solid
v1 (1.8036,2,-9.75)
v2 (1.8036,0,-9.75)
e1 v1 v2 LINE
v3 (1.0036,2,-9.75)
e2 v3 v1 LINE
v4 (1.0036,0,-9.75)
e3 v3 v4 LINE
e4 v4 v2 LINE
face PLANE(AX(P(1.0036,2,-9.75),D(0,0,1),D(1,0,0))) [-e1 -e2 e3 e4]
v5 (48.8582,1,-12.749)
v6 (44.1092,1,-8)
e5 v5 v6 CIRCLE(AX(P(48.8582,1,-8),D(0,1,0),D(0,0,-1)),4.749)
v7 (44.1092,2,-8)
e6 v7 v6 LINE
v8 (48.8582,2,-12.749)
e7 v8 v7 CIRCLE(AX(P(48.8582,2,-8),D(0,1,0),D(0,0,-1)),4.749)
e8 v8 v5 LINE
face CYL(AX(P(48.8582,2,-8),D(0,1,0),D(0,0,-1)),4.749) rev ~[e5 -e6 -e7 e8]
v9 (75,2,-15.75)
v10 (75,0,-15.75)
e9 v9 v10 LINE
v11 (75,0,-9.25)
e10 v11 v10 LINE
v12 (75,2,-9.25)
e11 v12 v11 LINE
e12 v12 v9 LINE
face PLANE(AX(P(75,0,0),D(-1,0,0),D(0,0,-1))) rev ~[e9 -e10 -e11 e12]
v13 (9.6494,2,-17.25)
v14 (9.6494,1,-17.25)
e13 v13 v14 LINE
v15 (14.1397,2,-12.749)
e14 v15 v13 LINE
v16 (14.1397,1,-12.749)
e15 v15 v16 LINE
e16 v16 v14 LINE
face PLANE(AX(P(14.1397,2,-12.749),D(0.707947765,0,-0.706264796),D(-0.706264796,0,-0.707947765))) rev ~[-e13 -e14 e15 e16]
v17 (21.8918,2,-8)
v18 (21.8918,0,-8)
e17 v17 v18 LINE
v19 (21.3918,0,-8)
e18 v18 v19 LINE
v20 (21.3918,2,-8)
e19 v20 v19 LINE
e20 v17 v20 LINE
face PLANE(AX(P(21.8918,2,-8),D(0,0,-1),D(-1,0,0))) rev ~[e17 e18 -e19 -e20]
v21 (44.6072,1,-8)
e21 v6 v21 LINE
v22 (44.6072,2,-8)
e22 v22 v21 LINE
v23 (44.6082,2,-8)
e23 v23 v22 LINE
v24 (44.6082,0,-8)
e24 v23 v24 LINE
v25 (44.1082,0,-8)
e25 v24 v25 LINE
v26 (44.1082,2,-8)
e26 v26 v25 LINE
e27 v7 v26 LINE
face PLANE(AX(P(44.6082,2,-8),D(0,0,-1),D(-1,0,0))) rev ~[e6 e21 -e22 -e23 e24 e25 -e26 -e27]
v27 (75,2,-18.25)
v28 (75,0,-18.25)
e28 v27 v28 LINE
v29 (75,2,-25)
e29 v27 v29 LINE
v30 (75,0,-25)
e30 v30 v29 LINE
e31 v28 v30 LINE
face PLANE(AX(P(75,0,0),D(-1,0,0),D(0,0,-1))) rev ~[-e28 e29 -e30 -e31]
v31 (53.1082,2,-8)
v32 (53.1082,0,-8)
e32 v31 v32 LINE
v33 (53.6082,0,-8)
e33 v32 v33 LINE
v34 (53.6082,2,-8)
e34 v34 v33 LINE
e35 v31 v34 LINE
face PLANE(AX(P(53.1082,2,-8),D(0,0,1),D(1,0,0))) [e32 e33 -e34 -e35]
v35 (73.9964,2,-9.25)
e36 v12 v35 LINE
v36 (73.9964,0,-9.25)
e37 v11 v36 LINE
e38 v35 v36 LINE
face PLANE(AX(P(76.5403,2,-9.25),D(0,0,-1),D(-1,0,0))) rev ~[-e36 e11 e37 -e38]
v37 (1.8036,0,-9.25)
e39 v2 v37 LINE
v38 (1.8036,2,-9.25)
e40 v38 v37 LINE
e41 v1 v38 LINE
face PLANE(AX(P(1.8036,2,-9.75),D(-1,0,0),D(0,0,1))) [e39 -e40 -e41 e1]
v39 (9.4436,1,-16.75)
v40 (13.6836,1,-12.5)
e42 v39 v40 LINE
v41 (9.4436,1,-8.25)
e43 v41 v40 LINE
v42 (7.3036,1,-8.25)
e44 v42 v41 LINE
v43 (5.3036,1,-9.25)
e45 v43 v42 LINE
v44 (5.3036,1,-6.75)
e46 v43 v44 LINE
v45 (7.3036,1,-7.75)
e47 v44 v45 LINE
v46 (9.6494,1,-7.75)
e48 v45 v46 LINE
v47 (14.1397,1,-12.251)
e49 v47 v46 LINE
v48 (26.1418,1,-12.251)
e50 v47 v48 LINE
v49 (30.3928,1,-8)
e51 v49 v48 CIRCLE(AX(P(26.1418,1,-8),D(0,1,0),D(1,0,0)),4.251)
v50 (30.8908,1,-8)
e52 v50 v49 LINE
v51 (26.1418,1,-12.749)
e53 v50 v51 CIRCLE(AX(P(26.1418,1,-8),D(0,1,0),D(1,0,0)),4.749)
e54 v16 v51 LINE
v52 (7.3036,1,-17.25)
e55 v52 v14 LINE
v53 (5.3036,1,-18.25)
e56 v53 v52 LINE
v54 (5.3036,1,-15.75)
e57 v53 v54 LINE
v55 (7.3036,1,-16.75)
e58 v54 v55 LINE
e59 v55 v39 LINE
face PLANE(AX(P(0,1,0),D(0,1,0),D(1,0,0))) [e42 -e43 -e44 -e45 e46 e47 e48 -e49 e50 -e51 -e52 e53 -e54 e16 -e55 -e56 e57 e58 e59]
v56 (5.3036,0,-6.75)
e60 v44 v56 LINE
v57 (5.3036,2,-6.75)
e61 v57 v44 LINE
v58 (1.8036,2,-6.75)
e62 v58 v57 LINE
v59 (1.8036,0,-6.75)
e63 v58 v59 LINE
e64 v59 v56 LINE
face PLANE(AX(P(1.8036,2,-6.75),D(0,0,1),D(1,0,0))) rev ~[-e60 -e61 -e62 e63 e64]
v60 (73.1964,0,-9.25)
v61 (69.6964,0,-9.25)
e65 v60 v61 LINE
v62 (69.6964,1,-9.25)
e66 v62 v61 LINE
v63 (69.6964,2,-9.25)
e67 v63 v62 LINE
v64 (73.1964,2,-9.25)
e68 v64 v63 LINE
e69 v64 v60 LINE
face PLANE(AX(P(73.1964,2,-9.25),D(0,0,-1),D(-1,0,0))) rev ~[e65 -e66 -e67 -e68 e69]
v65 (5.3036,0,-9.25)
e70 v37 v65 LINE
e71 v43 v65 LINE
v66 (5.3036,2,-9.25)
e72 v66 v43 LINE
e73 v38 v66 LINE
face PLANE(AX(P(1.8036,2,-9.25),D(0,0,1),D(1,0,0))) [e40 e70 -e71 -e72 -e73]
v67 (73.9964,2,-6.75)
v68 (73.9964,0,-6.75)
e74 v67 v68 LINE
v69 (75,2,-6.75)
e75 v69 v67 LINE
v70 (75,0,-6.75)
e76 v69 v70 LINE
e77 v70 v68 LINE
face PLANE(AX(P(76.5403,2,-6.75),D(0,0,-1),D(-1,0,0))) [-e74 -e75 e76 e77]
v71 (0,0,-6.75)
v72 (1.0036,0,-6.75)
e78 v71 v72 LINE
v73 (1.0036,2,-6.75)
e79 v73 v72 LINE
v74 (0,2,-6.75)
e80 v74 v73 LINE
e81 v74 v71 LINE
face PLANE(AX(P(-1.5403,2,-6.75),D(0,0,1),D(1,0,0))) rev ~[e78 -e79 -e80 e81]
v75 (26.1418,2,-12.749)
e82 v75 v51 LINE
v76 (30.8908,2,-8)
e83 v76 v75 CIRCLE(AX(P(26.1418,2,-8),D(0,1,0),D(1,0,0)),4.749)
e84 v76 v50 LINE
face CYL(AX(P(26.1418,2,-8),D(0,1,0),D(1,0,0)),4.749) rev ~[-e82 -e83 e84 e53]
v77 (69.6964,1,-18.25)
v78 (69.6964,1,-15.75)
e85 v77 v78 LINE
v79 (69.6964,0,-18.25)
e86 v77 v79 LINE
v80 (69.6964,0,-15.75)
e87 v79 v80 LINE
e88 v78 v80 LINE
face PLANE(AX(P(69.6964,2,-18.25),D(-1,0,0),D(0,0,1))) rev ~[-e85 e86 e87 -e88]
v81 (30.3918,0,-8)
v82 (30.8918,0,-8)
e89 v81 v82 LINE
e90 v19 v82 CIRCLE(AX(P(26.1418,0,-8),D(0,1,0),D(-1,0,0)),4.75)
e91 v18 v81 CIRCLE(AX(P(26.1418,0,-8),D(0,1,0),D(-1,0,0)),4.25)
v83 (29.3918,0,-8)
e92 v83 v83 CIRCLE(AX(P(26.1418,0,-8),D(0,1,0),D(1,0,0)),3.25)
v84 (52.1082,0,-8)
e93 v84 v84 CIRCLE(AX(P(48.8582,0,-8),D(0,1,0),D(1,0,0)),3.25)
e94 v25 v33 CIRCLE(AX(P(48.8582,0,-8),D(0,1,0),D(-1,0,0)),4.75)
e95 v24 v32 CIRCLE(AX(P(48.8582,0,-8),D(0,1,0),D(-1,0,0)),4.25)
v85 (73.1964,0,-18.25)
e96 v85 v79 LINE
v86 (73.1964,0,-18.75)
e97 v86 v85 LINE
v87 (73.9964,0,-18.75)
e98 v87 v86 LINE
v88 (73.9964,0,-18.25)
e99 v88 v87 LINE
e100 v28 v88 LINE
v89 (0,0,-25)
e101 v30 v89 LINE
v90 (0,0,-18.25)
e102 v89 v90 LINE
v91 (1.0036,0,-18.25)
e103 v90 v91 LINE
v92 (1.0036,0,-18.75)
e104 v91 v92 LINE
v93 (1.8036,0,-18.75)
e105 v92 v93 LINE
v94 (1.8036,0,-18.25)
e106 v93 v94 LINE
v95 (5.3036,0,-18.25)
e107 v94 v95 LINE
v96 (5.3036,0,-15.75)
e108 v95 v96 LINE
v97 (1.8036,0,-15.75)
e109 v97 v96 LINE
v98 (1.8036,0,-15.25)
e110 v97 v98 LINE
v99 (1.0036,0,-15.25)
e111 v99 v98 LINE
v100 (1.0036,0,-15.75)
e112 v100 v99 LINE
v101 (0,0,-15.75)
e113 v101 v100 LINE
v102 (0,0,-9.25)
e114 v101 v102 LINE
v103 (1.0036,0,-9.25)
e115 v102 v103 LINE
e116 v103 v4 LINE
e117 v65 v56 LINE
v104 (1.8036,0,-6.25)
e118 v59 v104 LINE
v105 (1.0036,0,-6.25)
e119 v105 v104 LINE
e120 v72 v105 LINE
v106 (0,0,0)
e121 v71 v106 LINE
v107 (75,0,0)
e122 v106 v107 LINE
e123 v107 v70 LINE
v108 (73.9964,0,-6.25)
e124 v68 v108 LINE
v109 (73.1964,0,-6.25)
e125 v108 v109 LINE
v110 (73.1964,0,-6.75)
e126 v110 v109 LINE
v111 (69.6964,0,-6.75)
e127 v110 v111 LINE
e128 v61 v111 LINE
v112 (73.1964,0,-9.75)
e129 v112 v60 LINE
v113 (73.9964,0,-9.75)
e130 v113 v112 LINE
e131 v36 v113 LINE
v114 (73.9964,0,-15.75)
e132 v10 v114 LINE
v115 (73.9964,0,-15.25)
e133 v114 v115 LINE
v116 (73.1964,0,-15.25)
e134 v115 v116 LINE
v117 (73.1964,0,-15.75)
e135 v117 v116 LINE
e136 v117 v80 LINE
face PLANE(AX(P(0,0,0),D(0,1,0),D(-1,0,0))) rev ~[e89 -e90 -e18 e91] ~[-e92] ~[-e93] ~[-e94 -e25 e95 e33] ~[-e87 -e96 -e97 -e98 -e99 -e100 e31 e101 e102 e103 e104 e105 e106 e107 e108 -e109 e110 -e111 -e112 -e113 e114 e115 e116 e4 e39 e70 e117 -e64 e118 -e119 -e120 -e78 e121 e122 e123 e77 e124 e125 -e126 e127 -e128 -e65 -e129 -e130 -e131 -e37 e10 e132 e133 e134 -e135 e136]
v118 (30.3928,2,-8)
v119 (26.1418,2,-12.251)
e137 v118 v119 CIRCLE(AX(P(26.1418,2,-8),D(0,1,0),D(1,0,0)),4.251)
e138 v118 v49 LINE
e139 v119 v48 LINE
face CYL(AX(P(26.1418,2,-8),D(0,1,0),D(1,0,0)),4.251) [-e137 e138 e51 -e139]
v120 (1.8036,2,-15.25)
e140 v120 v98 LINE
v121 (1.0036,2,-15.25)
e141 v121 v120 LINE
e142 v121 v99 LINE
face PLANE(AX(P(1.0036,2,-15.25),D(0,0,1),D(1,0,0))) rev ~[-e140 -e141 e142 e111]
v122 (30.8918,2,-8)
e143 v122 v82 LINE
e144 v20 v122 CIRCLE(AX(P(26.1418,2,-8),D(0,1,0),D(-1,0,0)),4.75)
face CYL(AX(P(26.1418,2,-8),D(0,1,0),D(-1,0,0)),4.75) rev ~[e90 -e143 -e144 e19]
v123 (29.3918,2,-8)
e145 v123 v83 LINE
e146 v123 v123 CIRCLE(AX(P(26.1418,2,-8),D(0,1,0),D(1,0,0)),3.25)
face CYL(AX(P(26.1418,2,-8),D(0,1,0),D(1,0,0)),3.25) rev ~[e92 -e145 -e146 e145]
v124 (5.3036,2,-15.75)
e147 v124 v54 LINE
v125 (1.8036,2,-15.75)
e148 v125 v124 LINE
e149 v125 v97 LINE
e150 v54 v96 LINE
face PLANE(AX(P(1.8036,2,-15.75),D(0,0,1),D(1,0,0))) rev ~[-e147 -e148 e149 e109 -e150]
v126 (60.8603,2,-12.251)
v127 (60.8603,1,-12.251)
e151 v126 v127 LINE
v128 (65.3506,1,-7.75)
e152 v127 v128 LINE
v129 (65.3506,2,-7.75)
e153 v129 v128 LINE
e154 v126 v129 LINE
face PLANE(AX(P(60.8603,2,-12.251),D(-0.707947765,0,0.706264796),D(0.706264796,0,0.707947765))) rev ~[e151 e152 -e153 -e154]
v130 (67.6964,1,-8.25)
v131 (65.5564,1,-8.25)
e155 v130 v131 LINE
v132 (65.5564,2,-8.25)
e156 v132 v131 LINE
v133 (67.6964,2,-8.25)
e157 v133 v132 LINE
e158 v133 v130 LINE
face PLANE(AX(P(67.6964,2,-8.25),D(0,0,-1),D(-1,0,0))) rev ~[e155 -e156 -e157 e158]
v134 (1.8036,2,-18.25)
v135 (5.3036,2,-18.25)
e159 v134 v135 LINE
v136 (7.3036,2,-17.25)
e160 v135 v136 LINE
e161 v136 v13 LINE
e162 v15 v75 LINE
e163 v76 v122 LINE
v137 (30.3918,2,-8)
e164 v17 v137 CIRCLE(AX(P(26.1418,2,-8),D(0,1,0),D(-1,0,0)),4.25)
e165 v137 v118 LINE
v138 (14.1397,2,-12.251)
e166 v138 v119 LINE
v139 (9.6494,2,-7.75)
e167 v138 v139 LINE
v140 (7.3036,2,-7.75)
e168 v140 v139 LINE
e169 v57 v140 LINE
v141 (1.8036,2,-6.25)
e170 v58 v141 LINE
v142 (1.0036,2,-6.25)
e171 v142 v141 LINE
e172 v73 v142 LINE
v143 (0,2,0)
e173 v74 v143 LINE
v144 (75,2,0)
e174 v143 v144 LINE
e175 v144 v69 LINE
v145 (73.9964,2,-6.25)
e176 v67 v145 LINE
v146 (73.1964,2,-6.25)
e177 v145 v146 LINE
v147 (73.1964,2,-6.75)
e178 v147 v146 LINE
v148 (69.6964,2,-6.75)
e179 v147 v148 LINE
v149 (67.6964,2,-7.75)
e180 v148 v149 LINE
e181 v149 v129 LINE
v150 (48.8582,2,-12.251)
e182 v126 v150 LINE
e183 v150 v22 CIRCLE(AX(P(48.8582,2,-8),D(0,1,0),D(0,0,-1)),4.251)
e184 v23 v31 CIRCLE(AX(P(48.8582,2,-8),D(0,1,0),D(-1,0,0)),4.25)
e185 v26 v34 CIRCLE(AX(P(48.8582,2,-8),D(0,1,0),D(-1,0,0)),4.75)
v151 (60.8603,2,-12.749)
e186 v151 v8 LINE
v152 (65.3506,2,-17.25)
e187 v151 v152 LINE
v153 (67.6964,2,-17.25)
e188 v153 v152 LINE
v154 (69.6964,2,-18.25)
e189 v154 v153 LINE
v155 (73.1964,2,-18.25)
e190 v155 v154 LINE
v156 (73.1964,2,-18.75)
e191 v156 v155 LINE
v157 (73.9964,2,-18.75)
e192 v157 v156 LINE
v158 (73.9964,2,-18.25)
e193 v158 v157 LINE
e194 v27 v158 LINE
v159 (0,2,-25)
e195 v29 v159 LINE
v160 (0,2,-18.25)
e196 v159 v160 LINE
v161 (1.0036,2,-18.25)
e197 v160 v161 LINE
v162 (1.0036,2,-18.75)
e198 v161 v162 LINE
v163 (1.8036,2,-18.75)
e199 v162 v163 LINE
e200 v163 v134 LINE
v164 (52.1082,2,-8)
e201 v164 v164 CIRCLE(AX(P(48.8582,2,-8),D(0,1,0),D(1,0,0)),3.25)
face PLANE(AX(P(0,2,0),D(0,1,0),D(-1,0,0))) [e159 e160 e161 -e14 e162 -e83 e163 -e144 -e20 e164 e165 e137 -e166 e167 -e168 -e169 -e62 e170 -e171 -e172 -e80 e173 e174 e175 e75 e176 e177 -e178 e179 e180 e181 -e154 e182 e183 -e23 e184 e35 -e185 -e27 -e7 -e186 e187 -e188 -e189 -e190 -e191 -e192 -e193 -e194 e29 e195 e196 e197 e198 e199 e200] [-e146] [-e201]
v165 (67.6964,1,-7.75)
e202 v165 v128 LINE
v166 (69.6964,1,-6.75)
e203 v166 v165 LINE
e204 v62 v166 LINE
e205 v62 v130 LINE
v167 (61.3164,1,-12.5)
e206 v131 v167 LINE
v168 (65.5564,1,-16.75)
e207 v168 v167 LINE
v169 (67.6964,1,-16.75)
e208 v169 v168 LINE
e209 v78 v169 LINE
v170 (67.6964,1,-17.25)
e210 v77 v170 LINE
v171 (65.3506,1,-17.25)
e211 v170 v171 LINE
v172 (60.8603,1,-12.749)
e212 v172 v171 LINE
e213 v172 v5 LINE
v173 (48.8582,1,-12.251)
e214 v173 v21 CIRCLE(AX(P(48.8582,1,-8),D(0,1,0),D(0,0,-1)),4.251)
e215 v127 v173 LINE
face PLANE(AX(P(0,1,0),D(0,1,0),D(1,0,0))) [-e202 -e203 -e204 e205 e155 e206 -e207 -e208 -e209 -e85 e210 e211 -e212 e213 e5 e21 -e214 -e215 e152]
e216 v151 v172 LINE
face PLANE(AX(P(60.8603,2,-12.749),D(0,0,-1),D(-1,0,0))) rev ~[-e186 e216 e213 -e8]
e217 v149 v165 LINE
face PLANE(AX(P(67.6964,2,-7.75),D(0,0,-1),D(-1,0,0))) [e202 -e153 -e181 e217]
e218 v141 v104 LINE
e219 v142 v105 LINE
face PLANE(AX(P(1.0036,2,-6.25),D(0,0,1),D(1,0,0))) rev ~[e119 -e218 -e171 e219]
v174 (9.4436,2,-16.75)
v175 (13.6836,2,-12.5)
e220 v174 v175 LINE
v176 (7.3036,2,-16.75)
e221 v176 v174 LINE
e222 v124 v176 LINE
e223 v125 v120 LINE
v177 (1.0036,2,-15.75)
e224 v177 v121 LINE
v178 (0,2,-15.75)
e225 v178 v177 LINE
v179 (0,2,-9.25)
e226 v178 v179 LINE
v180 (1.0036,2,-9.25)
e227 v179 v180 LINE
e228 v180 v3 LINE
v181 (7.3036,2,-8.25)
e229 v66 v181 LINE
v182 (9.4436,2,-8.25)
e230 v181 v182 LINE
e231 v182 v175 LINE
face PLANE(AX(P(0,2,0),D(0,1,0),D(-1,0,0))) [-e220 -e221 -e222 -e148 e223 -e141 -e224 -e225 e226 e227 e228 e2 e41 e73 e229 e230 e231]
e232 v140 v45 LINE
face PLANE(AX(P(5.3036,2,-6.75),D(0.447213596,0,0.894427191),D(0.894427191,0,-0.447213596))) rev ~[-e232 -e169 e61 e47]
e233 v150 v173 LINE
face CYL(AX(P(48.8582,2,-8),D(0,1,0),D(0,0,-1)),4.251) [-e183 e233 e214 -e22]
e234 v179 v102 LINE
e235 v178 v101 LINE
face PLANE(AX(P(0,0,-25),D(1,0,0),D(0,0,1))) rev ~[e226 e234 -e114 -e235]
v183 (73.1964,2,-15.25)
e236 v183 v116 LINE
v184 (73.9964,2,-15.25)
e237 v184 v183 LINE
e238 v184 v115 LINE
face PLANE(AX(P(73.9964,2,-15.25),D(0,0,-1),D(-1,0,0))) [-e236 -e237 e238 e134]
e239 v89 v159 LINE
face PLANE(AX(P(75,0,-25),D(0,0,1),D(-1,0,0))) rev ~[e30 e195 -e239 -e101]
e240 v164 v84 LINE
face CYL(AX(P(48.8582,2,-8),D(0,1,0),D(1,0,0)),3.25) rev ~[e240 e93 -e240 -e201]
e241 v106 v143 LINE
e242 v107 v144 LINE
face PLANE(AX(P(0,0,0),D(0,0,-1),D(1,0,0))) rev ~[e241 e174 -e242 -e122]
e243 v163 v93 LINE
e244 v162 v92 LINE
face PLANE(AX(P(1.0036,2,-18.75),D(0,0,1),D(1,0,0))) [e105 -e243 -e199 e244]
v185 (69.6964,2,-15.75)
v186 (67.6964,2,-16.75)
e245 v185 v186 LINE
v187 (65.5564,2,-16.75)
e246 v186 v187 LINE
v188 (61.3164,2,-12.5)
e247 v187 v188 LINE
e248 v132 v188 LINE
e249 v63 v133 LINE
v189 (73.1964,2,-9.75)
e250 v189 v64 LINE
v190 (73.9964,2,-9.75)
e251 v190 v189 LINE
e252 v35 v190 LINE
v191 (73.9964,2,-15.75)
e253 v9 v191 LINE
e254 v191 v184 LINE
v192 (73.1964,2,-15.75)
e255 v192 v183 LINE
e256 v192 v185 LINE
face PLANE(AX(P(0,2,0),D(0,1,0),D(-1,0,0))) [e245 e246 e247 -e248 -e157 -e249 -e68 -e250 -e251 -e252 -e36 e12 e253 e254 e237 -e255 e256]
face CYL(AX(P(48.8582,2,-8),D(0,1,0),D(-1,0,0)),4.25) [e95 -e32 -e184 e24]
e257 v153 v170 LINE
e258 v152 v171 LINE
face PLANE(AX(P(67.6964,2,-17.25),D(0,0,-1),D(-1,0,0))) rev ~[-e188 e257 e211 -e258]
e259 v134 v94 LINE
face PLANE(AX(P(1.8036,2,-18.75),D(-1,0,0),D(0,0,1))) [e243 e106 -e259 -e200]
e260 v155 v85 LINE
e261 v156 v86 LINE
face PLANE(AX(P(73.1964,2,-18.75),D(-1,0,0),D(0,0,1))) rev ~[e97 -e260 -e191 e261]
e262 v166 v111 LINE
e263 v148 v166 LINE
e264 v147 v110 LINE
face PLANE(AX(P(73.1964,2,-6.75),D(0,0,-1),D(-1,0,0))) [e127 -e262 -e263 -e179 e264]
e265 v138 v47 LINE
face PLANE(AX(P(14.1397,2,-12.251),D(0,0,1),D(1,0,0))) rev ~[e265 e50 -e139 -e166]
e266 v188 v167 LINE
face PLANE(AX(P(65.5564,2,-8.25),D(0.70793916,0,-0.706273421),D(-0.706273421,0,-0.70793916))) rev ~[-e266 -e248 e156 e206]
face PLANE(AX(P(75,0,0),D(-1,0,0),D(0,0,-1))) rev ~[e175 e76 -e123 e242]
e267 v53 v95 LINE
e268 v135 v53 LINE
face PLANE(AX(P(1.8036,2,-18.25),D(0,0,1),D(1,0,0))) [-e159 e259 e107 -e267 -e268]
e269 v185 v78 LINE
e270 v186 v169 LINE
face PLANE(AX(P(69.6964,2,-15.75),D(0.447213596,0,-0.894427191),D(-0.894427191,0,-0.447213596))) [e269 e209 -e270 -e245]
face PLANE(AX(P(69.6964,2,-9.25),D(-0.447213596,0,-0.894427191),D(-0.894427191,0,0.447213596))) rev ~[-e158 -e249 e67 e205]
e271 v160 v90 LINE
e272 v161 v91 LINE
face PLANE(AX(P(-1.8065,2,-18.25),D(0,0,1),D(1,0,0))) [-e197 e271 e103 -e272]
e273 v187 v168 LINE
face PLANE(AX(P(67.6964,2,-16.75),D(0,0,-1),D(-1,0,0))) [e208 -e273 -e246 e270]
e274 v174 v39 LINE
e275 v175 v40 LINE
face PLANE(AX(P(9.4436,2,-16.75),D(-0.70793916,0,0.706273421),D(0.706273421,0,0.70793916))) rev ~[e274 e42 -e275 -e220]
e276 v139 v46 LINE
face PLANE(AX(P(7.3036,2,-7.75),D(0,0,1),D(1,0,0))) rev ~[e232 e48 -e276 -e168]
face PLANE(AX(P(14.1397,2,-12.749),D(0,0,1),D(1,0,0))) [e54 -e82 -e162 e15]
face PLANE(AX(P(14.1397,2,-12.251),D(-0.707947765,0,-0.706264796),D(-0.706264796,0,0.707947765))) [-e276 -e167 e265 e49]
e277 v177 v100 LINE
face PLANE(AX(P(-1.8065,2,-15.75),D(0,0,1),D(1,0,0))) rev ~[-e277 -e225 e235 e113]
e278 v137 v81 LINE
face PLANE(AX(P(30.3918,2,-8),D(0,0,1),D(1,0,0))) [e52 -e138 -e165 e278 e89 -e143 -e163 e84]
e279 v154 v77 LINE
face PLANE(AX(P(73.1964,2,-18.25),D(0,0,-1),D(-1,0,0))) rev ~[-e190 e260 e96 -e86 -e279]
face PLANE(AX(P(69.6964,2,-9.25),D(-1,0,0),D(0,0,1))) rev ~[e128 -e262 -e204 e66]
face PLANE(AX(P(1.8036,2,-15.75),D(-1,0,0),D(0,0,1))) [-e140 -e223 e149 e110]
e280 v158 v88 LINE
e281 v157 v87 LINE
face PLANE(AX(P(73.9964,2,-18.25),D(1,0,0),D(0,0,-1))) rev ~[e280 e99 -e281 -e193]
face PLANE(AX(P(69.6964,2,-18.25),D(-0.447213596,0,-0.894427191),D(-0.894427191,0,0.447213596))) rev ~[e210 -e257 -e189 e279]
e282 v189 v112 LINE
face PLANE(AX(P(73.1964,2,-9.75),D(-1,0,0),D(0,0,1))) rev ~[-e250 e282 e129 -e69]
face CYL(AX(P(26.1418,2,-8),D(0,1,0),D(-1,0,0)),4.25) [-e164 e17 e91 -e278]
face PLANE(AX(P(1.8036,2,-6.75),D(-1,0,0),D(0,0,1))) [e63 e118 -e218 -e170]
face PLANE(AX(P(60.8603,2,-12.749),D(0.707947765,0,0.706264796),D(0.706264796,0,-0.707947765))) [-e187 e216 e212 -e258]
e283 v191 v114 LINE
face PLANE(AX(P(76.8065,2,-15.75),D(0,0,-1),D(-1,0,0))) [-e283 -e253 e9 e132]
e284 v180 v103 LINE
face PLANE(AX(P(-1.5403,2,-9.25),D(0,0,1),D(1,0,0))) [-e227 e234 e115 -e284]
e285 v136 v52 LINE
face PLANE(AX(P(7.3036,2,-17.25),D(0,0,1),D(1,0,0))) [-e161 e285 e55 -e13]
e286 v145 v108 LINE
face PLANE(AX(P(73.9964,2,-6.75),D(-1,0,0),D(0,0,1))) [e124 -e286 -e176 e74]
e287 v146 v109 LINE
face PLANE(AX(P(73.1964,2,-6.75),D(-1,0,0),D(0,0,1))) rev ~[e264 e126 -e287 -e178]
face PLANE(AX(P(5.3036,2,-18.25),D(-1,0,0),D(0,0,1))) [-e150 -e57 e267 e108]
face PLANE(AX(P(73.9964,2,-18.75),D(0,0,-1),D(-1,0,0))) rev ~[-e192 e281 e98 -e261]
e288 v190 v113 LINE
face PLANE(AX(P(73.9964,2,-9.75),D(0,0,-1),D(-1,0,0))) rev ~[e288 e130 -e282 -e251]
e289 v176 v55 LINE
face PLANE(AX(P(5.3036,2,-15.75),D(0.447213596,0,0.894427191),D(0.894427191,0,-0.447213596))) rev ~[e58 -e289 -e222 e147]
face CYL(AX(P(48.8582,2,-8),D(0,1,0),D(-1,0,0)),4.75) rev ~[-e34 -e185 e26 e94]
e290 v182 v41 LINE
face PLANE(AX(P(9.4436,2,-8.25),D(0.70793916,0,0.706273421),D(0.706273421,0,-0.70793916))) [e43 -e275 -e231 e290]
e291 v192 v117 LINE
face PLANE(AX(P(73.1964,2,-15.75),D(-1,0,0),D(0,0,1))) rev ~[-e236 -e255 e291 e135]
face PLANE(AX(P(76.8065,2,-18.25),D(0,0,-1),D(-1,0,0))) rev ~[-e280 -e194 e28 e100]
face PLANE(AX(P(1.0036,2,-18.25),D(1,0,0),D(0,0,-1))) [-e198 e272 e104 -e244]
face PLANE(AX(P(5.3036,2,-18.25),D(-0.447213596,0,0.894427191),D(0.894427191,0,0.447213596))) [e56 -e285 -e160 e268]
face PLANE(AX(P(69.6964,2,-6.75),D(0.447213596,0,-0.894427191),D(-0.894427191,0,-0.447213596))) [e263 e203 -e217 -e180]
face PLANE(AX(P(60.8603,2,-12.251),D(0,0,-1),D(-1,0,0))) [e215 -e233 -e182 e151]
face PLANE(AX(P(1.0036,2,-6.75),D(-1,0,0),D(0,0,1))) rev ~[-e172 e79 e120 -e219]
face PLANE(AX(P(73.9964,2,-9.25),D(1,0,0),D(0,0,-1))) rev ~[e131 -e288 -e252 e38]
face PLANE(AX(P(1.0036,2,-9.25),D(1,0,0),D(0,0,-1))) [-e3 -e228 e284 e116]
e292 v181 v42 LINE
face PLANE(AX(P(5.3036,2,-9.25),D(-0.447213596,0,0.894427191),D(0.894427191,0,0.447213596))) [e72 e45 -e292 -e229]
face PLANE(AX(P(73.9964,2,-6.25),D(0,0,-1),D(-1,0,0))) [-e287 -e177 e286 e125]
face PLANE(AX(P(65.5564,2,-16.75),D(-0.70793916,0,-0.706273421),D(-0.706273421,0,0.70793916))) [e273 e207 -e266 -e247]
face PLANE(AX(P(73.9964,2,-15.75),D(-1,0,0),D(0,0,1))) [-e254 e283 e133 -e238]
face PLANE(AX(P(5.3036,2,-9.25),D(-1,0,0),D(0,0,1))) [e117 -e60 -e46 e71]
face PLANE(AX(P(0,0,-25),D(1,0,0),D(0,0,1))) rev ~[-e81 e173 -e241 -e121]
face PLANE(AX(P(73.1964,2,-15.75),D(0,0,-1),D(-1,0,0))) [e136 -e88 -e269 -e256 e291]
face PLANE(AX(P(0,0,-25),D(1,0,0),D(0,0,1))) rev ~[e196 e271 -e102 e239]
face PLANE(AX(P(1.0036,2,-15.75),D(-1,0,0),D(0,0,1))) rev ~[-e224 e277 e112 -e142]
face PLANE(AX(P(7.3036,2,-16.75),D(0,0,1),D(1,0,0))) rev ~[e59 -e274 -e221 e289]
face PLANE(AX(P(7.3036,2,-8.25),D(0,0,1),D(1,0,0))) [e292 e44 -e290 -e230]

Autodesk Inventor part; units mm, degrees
ref_plane "YZ Plane" through (0, 0, 0) normal (1, 0, 0) x (0, 1, 0)
ref_plane "XZ Plane" through (0, 0, 0) normal (0, 1, 0) x (-1, 0, 0)
ref_plane "XY Plane" through (0, 0, 0) normal (0, 0, 1) x (1, 0, 0)
sketch "Sombreado_1" plane through (0, 0, 0) normal (0, 0, 1) x (1, 0, 0)
  point P0 (0, 0)
sketch "Sombreado_2" plane through (0, 0, 0) normal (0, 0, 1) x (1, 0, 0)
  point P0 (0, 0)
sketch "Sombreado_3" plane through (0, 0, 0) normal (0, 0, 1) x (1, 0, 0)
  point P0 (0, 0)
sketch "Boceto1" plane through (0, 0, 0) normal (0, 1, 0) x (-1, 0, 0)
  line L0 (30.3882, 1.25) -> (30.8882, 1.25)
  line L1 (0, -6.75) -> (75, -6.75)
  line L2 (75, -6.75) -> (75, 18.25)
  line L3 (75, 18.25) -> (0, 18.25)
  line L4 (0, 18.25) -> (0, -6.75)
  arc A0 (21.3882, 1.25) -> (30.8882, 1.25) centre (26.1382, 1.25) ccw
  arc A1 (21.8882, 1.25) -> (30.3882, 1.25) centre (26.1382, 1.25) ccw
  line L5 (21.3882, 1.25) -> (21.8882, 1.25)
  line L6 (1.8, 2.5) -> (5.3, 2.5)
  line L7 (1.8, 2.5) -> (1.8, 3)
  line L8 (1.8, 3) -> (1, 3)
  line L9 (1, 3) -> (1, 2.5)
  line L10 (1, 0) -> (0, 0)
  line L11 (1, 0) -> (1, -0.5)
  line L12 (1, -0.5) -> (1.8, -0.5)
  line L13 (1.8, -0.5) -> (1.8, 0)
  line L14 (5.3, 0) -> (1.8, 0)
  line L15 (0, 2.5) -> (1, 2.5)
  line L16 (1.8, 11.5) -> (5.3, 11.5)
  line L17 (5.3, 9) -> (1.8, 9)
  line L18 (1, 9) -> (0, 9)
  line L19 (0, 11.5) -> (1, 11.5)
  line L20 (1.8, 11.5) -> (1.8, 12)
  line L21 (1.8, 12) -> (1, 12)
  line L22 (1, 12) -> (1, 11.5)
  line L23 (1, 9) -> (1, 8.5)
  line L24 (1, 8.5) -> (1.8, 8.5)
  line L25 (1.8, 8.5) -> (1.8, 9)
  line L26 (44.6082, 1.25) -> (44.1082, 1.25)
  arc A2 (44.1082, 1.25) -> (53.6082, 1.25) centre (48.8582, 1.25) ccw
  arc A3 (44.6082, 1.25) -> (53.1082, 1.25) centre (48.8582, 1.25) ccw
  line L27 (53.6082, 1.25) -> (53.1082, 1.25)
  line L28 (73.1964, 2.5) -> (69.6964, 2.5)
  line L29 (69.6964, 0) -> (73.1964, 0)
  line L30 (73.9964, 0) -> (74.9964, 0)
  line L31 (74.9964, 2.5) -> (73.9964, 2.5)
  line L32 (73.1964, 2.5) -> (73.1964, 3)
  line L33 (73.1964, 3) -> (73.9964, 3)
  line L34 (73.9964, 3) -> (73.9964, 2.5)
  line L35 (73.9964, 0) -> (73.9964, -0.5)
  line L36 (73.9964, -0.5) -> (73.1964, -0.5)
  line L37 (73.1964, -0.5) -> (73.1964, 0)
  line L38 (73.1964, 11.5) -> (69.6964, 11.5)
  line L39 (69.6964, 9) -> (73.1964, 9)
  line L40 (73.9964, 9) -> (74.9964, 9)
  line L41 (74.9964, 11.5) -> (73.9964, 11.5)
  line L42 (73.1964, 11.5) -> (73.1964, 12)
  line L43 (73.1964, 12) -> (73.9964, 12)
  line L44 (73.9964, 12) -> (73.9964, 11.5)
  line L45 (73.9964, 9) -> (73.9964, 8.5)
  line L46 (73.9964, 8.5) -> (73.1964, 8.5)
  line L47 (73.1964, 8.5) -> (73.1964, 9)
  line L48 (75, 18.25) -> (75, 43.25)
  line L49 (75, 43.25) -> (0, 43.25)
  line L50 (0, 43.25) -> (0, 18.25)
  line L51 (5.3, 11.5) -> (5.3, 9)
  line L52 (5.3, 2.5) -> (5.3, 0)
  line L53 (69.6964, 11.5) -> (69.6964, 9)
  line L54 (69.6964, 2.5) -> (69.6964, 0)
  circle A4 centre (26.1382, 1.25) radius 3.25
  circle A5 centre (48.8582, 1.25) radius 3.25
  circle A6 centre (26.1382, 26.25) radius 3.25
  circle A7 centre (48.8582, 26.25) radius 3.25
  line L55 (75, 43.25) -> (75, 68.25)
  line L56 (75, 68.25) -> (0, 68.25)
  line L57 (0, 68.25) -> (0, 43.25)
  circle A8 centre (26.1382, 51.25) radius 3.25
  circle A9 centre (48.8582, 51.25) radius 3.25
  point P0 (0, 0)
sketch "Boceto3" plane through (0, 0, 0) normal (0, 1, 0) x (-1, 0, 0)
  line L0 (0, 0) -> (-75, 0)
  line L1 (-75, 0) -> (-75, -25)
  line L2 (-75, -25) -> (0, -25)
  line L3 (0, -25) -> (0, 0)
  line L4 (0, 0) -> (-75, 0)
  line L5 (-75, 0) -> (-75, -25)
  line L6 (-75, -25) -> (0, -25)
  line L7 (0, -25) -> (0, 0)
  dimension "d4" = 75
  dimension "d5" = 25
  dimension "d6" = 75
  dimension "d7" = 25
extrude "Extrusión1" add sketch "Boceto3" along normal blind 2
sketch "Boceto4" plane through (0, 2, 0) normal (0, 1, 0) x (1, 0, 0)
  line L0 (-1.8065, 18.25) -> (1.0036, 18.25)
  line L1 (-1.8065, 15.75) -> (1.0036, 15.75)
  line L2 (1.0036, 15.75) -> (1.0036, 15.25)
  line L3 (1.8036, 15.75) -> (1.8036, 15.25)
  line L4 (1.0036, 18.75) -> (1.8036, 18.75)
  line L5 (1.0036, 15.25) -> (1.8036, 15.25)
  line L6 (1.0036, 18.25) -> (1.0036, 18.75)
  line L7 (1.8036, 18.75) -> (1.8036, 18.25)
  line L8 (1.8036, 18.25) -> (5.3036, 18.25)
  line L9 (1.8036, 15.75) -> (5.3036, 15.75)
  line L10 (5.3036, 18.25) -> (5.3036, 15.75)
  line L11 (-1.5403, 9.25) -> (-1.5403, 6.75)
  line L12 (-1.5403, 9.25) -> (1.0036, 9.25)
  line L13 (-1.5403, 6.75) -> (1.0036, 6.75)
  line L14 (1.0036, 6.75) -> (1.0036, 6.25)
  line L15 (1.8036, 6.75) -> (1.8036, 6.25)
  line L16 (1.0036, 9.75) -> (1.8036, 9.75)
  line L17 (1.0036, 6.25) -> (1.8036, 6.25)
  line L18 (1.0036, 9.25) -> (1.0036, 9.75)
  line L19 (1.8036, 9.75) -> (1.8036, 9.25)
  line L20 (1.8036, 9.25) -> (5.3036, 9.25)
  line L21 (1.8036, 6.75) -> (5.3036, 6.75)
  line L22 (5.3036, 9.25) -> (5.3036, 6.75)
  circle A0 centre (26.1418, 8) radius 3.25
  arc A1 (21.3918, 8) -> (30.8918, 8) centre (26.1418, 8) ccw
  arc A2 (21.8918, 8) -> (30.3918, 8) centre (26.1418, 8) ccw
  line L23 (30.3918, 8) -> (30.8918, 8)
  line L24 (21.8918, 8) -> (21.3918, 8)
  line L25 (-1.8065, 18.25) -> (-1.8065, 15.75)
  line L26 (5.3036, 15.75) -> (7.3036, 16.75)
  line L27 (5.3036, 18.25) -> (7.3036, 17.25)
  line L28 (7.3036, 16.75) -> (9.4436, 16.75)
  line L29 (9.4436, 16.75) -> (13.6836, 12.5)
  line L30 (9.7963, 17.1027) -> (9.7972, 17.1036)
  line L31 (14.1397, 12.749) -> (9.6494, 17.25)
  line L32 (7.3036, 17.25) -> (9.6494, 17.25)
  line L33 (5.3036, 9.25) -> (7.3036, 8.25)
  line L34 (5.3036, 6.75) -> (7.3036, 7.75)
  line L35 (7.3036, 8.25) -> (9.4436, 8.25)
  line L36 (9.4436, 8.25) -> (13.6836, 12.5)
  line L37 (14.1397, 12.251) -> (9.6494, 7.75)
  line L38 (7.3036, 7.75) -> (9.6494, 7.75)
  line L39 (14.1397, 12.749) -> (26.1418, 12.749)
  line L40 (14.1397, 12.251) -> (26.1418, 12.251)
  arc A3 (30.3918, 8) -> (26.1418, 12.25) centre (26.1418, 8) ccw
  arc A4 (30.8918, 8) -> (26.1418, 12.75) centre (26.1418, 8) ccw
  line L41 (0, 0) -> (75, 0) projected
  line L42 (75, 25) -> (0, 25) projected
  line L43 (76.8065, 18.25) -> (73.9964, 18.25)
  line L44 (76.8065, 15.75) -> (73.9964, 15.75)
  line L45 (73.9964, 15.75) -> (73.9964, 15.25)
  line L46 (73.1964, 15.75) -> (73.1964, 15.25)
  line L47 (73.9964, 18.75) -> (73.1964, 18.75)
  line L48 (73.9964, 15.25) -> (73.1964, 15.25)
  line L49 (73.9964, 18.25) -> (73.9964, 18.75)
  line L50 (73.1964, 18.75) -> (73.1964, 18.25)
  line L51 (73.1964, 18.25) -> (69.6964, 18.25)
  line L52 (73.1964, 15.75) -> (69.6964, 15.75)
  line L53 (69.6964, 18.25) -> (69.6964, 15.75)
  line L54 (69.6964, 9.25) -> (69.6964, 6.75)
  line L55 (73.1964, 6.75) -> (73.1964, 6.25)
  line L56 (73.1964, 6.75) -> (69.6964, 6.75)
  line L57 (73.1964, 9.75) -> (73.1964, 9.25)
  line L58 (73.9964, 6.75) -> (73.9964, 6.25)
  line L59 (73.9964, 6.25) -> (73.1964, 6.25)
  line L60 (73.9964, 9.75) -> (73.1964, 9.75)
  line L61 (73.9964, 9.25) -> (73.9964, 9.75)
  line L62 (76.5403, 9.25) -> (76.5403, 6.75)
  line L63 (76.5403, 9.25) -> (73.9964, 9.25)
  line L64 (76.5403, 6.75) -> (73.9964, 6.75)
  line L65 (73.1964, 9.25) -> (69.6964, 9.25)
  circle A5 centre (48.8582, 8) radius 3.25
  arc A6 (44.1082, 8) -> (53.6082, 8) centre (48.8582, 8) ccw
  arc A7 (44.6082, 8) -> (53.1082, 8) centre (48.8582, 8) ccw
  line L66 (44.6082, 8) -> (44.1082, 8)
  line L67 (53.1082, 8) -> (53.6082, 8)
  line L68 (76.8065, 18.25) -> (76.8065, 15.75)
  line L69 (69.6964, 15.75) -> (67.6964, 16.75)
  line L70 (69.6964, 18.25) -> (67.6964, 17.25)
  line L71 (67.6964, 16.75) -> (65.5564, 16.75)
  line L72 (65.5564, 16.75) -> (61.3164, 12.5)
  line L73 (65.2037, 17.1027) -> (65.2028, 17.1036)
  line L74 (60.8603, 12.749) -> (65.3506, 17.25)
  line L75 (67.6964, 17.25) -> (65.3506, 17.25)
  line L76 (67.6964, 8.25) -> (65.5564, 8.25)
  line L77 (67.6964, 7.75) -> (65.3506, 7.75)
  line L78 (60.8603, 12.251) -> (65.3506, 7.75)
  line L79 (65.5564, 8.25) -> (61.3164, 12.5)
  line L80 (69.6964, 9.25) -> (67.6964, 8.25)
  line L81 (69.6964, 6.75) -> (67.6964, 7.75)
  line L82 (60.8603, 12.749) -> (48.8582, 12.749)
  line L83 (60.8603, 12.251) -> (48.8582, 12.251)
  arc A8 (48.8582, 12.25) -> (44.6082, 8) centre (48.8582, 8) ccw
  arc A9 (48.8582, 12.75) -> (44.1082, 8) centre (48.8582, 8) ccw
extrude "Extrusión2" cut sketch "Boceto4" against normal blind 2 contours L0 L6 L4 L7 L8 L10 L9 L3 L5 L2 L1 L25 | A1 L24 A2 L23 | L22 L21 L15 L17 L14 L13 L11 L12 L18 L16 L19 L20 | A0 | L68 L44 L45 L48 L46 L52 L53 L51 L50 L47 L49 L43 | L66 A7 L67 A6 | L65 L57 L60 L61 L63 L62 L64 L58 L59 L55 L56 L54 | A5
sketch "Boceto5" plane through (0, 2, 0) normal (0, 1, 0) x (1, 0, 0)
  line L0 (5.3036, 18.25) -> (5.3036, 15.75)
  line L1 (5.3036, 9.25) -> (5.3036, 6.75)
  line L2 (5.3036, 15.75) -> (7.3036, 16.75)
  line L3 (5.3036, 18.25) -> (7.3036, 17.25)
  line L4 (7.3036, 16.75) -> (9.4436, 16.75)
  line L5 (9.4436, 16.75) -> (13.6836, 12.5)
  line L6 (9.7963, 17.1027) -> (9.7972, 17.1036)
  line L7 (14.1397, 12.749) -> (9.6494, 17.25)
  line L8 (7.3036, 17.25) -> (9.6494, 17.25)
  line L9 (7.3036, 8.25) -> (9.4436, 8.25)
  line L10 (7.3036, 7.75) -> (9.6494, 7.75)
  line L11 (14.1397, 12.251) -> (9.6494, 7.75)
  line L12 (9.4436, 8.25) -> (13.6836, 12.5)
  line L13 (5.3036, 9.25) -> (7.3036, 8.25)
  line L14 (5.3036, 6.75) -> (7.3036, 7.75)
  line L15 (14.1397, 12.749) -> (26.1418, 12.749)
  line L16 (14.1397, 12.251) -> (26.1418, 12.251)
  line L17 (30.8908, 8) -> (30.3928, 8)
  arc A0 (30.3928, 8) -> (26.1418, 12.251) centre (26.1418, 8) ccw
  arc A1 (30.8908, 8) -> (26.1418, 12.749) centre (26.1418, 8) ccw
  line L18 (69.6964, 18.25) -> (69.6964, 15.75)
  line L19 (69.6964, 9.25) -> (69.6964, 6.75)
  line L20 (69.6964, 15.75) -> (67.6964, 16.75)
  line L21 (69.6964, 18.25) -> (67.6964, 17.25)
  line L22 (67.6964, 16.75) -> (65.5564, 16.75)
  line L23 (65.5564, 16.75) -> (61.3164, 12.5)
  line L24 (65.2037, 17.1027) -> (65.2028, 17.1036)
  line L25 (60.8603, 12.749) -> (65.3506, 17.25)
  line L26 (67.6964, 17.25) -> (65.3506, 17.25)
  line L27 (67.6964, 8.25) -> (65.5564, 8.25)
  line L28 (67.6964, 7.75) -> (65.3506, 7.75)
  line L29 (60.8603, 12.251) -> (65.3506, 7.75)
  line L30 (65.5564, 8.25) -> (61.3164, 12.5)
  line L31 (69.6964, 9.25) -> (67.6964, 8.25)
  line L32 (69.6964, 6.75) -> (67.6964, 7.75)
  line L33 (60.8603, 12.749) -> (48.8582, 12.749)
  line L34 (60.8603, 12.251) -> (48.8582, 12.251)
  line L35 (44.1092, 8) -> (44.6072, 8)
  arc A2 (48.8582, 12.251) -> (44.6072, 8) centre (48.8582, 8) ccw
  arc A3 (48.8582, 12.749) -> (44.1092, 8) centre (48.8582, 8) ccw
  point P0 (0, 0)
extrude "Extrusión3" cut sketch "Boceto5" against normal blind 1
properties part number "2ureactor Torus" material "PPS Plastic"
